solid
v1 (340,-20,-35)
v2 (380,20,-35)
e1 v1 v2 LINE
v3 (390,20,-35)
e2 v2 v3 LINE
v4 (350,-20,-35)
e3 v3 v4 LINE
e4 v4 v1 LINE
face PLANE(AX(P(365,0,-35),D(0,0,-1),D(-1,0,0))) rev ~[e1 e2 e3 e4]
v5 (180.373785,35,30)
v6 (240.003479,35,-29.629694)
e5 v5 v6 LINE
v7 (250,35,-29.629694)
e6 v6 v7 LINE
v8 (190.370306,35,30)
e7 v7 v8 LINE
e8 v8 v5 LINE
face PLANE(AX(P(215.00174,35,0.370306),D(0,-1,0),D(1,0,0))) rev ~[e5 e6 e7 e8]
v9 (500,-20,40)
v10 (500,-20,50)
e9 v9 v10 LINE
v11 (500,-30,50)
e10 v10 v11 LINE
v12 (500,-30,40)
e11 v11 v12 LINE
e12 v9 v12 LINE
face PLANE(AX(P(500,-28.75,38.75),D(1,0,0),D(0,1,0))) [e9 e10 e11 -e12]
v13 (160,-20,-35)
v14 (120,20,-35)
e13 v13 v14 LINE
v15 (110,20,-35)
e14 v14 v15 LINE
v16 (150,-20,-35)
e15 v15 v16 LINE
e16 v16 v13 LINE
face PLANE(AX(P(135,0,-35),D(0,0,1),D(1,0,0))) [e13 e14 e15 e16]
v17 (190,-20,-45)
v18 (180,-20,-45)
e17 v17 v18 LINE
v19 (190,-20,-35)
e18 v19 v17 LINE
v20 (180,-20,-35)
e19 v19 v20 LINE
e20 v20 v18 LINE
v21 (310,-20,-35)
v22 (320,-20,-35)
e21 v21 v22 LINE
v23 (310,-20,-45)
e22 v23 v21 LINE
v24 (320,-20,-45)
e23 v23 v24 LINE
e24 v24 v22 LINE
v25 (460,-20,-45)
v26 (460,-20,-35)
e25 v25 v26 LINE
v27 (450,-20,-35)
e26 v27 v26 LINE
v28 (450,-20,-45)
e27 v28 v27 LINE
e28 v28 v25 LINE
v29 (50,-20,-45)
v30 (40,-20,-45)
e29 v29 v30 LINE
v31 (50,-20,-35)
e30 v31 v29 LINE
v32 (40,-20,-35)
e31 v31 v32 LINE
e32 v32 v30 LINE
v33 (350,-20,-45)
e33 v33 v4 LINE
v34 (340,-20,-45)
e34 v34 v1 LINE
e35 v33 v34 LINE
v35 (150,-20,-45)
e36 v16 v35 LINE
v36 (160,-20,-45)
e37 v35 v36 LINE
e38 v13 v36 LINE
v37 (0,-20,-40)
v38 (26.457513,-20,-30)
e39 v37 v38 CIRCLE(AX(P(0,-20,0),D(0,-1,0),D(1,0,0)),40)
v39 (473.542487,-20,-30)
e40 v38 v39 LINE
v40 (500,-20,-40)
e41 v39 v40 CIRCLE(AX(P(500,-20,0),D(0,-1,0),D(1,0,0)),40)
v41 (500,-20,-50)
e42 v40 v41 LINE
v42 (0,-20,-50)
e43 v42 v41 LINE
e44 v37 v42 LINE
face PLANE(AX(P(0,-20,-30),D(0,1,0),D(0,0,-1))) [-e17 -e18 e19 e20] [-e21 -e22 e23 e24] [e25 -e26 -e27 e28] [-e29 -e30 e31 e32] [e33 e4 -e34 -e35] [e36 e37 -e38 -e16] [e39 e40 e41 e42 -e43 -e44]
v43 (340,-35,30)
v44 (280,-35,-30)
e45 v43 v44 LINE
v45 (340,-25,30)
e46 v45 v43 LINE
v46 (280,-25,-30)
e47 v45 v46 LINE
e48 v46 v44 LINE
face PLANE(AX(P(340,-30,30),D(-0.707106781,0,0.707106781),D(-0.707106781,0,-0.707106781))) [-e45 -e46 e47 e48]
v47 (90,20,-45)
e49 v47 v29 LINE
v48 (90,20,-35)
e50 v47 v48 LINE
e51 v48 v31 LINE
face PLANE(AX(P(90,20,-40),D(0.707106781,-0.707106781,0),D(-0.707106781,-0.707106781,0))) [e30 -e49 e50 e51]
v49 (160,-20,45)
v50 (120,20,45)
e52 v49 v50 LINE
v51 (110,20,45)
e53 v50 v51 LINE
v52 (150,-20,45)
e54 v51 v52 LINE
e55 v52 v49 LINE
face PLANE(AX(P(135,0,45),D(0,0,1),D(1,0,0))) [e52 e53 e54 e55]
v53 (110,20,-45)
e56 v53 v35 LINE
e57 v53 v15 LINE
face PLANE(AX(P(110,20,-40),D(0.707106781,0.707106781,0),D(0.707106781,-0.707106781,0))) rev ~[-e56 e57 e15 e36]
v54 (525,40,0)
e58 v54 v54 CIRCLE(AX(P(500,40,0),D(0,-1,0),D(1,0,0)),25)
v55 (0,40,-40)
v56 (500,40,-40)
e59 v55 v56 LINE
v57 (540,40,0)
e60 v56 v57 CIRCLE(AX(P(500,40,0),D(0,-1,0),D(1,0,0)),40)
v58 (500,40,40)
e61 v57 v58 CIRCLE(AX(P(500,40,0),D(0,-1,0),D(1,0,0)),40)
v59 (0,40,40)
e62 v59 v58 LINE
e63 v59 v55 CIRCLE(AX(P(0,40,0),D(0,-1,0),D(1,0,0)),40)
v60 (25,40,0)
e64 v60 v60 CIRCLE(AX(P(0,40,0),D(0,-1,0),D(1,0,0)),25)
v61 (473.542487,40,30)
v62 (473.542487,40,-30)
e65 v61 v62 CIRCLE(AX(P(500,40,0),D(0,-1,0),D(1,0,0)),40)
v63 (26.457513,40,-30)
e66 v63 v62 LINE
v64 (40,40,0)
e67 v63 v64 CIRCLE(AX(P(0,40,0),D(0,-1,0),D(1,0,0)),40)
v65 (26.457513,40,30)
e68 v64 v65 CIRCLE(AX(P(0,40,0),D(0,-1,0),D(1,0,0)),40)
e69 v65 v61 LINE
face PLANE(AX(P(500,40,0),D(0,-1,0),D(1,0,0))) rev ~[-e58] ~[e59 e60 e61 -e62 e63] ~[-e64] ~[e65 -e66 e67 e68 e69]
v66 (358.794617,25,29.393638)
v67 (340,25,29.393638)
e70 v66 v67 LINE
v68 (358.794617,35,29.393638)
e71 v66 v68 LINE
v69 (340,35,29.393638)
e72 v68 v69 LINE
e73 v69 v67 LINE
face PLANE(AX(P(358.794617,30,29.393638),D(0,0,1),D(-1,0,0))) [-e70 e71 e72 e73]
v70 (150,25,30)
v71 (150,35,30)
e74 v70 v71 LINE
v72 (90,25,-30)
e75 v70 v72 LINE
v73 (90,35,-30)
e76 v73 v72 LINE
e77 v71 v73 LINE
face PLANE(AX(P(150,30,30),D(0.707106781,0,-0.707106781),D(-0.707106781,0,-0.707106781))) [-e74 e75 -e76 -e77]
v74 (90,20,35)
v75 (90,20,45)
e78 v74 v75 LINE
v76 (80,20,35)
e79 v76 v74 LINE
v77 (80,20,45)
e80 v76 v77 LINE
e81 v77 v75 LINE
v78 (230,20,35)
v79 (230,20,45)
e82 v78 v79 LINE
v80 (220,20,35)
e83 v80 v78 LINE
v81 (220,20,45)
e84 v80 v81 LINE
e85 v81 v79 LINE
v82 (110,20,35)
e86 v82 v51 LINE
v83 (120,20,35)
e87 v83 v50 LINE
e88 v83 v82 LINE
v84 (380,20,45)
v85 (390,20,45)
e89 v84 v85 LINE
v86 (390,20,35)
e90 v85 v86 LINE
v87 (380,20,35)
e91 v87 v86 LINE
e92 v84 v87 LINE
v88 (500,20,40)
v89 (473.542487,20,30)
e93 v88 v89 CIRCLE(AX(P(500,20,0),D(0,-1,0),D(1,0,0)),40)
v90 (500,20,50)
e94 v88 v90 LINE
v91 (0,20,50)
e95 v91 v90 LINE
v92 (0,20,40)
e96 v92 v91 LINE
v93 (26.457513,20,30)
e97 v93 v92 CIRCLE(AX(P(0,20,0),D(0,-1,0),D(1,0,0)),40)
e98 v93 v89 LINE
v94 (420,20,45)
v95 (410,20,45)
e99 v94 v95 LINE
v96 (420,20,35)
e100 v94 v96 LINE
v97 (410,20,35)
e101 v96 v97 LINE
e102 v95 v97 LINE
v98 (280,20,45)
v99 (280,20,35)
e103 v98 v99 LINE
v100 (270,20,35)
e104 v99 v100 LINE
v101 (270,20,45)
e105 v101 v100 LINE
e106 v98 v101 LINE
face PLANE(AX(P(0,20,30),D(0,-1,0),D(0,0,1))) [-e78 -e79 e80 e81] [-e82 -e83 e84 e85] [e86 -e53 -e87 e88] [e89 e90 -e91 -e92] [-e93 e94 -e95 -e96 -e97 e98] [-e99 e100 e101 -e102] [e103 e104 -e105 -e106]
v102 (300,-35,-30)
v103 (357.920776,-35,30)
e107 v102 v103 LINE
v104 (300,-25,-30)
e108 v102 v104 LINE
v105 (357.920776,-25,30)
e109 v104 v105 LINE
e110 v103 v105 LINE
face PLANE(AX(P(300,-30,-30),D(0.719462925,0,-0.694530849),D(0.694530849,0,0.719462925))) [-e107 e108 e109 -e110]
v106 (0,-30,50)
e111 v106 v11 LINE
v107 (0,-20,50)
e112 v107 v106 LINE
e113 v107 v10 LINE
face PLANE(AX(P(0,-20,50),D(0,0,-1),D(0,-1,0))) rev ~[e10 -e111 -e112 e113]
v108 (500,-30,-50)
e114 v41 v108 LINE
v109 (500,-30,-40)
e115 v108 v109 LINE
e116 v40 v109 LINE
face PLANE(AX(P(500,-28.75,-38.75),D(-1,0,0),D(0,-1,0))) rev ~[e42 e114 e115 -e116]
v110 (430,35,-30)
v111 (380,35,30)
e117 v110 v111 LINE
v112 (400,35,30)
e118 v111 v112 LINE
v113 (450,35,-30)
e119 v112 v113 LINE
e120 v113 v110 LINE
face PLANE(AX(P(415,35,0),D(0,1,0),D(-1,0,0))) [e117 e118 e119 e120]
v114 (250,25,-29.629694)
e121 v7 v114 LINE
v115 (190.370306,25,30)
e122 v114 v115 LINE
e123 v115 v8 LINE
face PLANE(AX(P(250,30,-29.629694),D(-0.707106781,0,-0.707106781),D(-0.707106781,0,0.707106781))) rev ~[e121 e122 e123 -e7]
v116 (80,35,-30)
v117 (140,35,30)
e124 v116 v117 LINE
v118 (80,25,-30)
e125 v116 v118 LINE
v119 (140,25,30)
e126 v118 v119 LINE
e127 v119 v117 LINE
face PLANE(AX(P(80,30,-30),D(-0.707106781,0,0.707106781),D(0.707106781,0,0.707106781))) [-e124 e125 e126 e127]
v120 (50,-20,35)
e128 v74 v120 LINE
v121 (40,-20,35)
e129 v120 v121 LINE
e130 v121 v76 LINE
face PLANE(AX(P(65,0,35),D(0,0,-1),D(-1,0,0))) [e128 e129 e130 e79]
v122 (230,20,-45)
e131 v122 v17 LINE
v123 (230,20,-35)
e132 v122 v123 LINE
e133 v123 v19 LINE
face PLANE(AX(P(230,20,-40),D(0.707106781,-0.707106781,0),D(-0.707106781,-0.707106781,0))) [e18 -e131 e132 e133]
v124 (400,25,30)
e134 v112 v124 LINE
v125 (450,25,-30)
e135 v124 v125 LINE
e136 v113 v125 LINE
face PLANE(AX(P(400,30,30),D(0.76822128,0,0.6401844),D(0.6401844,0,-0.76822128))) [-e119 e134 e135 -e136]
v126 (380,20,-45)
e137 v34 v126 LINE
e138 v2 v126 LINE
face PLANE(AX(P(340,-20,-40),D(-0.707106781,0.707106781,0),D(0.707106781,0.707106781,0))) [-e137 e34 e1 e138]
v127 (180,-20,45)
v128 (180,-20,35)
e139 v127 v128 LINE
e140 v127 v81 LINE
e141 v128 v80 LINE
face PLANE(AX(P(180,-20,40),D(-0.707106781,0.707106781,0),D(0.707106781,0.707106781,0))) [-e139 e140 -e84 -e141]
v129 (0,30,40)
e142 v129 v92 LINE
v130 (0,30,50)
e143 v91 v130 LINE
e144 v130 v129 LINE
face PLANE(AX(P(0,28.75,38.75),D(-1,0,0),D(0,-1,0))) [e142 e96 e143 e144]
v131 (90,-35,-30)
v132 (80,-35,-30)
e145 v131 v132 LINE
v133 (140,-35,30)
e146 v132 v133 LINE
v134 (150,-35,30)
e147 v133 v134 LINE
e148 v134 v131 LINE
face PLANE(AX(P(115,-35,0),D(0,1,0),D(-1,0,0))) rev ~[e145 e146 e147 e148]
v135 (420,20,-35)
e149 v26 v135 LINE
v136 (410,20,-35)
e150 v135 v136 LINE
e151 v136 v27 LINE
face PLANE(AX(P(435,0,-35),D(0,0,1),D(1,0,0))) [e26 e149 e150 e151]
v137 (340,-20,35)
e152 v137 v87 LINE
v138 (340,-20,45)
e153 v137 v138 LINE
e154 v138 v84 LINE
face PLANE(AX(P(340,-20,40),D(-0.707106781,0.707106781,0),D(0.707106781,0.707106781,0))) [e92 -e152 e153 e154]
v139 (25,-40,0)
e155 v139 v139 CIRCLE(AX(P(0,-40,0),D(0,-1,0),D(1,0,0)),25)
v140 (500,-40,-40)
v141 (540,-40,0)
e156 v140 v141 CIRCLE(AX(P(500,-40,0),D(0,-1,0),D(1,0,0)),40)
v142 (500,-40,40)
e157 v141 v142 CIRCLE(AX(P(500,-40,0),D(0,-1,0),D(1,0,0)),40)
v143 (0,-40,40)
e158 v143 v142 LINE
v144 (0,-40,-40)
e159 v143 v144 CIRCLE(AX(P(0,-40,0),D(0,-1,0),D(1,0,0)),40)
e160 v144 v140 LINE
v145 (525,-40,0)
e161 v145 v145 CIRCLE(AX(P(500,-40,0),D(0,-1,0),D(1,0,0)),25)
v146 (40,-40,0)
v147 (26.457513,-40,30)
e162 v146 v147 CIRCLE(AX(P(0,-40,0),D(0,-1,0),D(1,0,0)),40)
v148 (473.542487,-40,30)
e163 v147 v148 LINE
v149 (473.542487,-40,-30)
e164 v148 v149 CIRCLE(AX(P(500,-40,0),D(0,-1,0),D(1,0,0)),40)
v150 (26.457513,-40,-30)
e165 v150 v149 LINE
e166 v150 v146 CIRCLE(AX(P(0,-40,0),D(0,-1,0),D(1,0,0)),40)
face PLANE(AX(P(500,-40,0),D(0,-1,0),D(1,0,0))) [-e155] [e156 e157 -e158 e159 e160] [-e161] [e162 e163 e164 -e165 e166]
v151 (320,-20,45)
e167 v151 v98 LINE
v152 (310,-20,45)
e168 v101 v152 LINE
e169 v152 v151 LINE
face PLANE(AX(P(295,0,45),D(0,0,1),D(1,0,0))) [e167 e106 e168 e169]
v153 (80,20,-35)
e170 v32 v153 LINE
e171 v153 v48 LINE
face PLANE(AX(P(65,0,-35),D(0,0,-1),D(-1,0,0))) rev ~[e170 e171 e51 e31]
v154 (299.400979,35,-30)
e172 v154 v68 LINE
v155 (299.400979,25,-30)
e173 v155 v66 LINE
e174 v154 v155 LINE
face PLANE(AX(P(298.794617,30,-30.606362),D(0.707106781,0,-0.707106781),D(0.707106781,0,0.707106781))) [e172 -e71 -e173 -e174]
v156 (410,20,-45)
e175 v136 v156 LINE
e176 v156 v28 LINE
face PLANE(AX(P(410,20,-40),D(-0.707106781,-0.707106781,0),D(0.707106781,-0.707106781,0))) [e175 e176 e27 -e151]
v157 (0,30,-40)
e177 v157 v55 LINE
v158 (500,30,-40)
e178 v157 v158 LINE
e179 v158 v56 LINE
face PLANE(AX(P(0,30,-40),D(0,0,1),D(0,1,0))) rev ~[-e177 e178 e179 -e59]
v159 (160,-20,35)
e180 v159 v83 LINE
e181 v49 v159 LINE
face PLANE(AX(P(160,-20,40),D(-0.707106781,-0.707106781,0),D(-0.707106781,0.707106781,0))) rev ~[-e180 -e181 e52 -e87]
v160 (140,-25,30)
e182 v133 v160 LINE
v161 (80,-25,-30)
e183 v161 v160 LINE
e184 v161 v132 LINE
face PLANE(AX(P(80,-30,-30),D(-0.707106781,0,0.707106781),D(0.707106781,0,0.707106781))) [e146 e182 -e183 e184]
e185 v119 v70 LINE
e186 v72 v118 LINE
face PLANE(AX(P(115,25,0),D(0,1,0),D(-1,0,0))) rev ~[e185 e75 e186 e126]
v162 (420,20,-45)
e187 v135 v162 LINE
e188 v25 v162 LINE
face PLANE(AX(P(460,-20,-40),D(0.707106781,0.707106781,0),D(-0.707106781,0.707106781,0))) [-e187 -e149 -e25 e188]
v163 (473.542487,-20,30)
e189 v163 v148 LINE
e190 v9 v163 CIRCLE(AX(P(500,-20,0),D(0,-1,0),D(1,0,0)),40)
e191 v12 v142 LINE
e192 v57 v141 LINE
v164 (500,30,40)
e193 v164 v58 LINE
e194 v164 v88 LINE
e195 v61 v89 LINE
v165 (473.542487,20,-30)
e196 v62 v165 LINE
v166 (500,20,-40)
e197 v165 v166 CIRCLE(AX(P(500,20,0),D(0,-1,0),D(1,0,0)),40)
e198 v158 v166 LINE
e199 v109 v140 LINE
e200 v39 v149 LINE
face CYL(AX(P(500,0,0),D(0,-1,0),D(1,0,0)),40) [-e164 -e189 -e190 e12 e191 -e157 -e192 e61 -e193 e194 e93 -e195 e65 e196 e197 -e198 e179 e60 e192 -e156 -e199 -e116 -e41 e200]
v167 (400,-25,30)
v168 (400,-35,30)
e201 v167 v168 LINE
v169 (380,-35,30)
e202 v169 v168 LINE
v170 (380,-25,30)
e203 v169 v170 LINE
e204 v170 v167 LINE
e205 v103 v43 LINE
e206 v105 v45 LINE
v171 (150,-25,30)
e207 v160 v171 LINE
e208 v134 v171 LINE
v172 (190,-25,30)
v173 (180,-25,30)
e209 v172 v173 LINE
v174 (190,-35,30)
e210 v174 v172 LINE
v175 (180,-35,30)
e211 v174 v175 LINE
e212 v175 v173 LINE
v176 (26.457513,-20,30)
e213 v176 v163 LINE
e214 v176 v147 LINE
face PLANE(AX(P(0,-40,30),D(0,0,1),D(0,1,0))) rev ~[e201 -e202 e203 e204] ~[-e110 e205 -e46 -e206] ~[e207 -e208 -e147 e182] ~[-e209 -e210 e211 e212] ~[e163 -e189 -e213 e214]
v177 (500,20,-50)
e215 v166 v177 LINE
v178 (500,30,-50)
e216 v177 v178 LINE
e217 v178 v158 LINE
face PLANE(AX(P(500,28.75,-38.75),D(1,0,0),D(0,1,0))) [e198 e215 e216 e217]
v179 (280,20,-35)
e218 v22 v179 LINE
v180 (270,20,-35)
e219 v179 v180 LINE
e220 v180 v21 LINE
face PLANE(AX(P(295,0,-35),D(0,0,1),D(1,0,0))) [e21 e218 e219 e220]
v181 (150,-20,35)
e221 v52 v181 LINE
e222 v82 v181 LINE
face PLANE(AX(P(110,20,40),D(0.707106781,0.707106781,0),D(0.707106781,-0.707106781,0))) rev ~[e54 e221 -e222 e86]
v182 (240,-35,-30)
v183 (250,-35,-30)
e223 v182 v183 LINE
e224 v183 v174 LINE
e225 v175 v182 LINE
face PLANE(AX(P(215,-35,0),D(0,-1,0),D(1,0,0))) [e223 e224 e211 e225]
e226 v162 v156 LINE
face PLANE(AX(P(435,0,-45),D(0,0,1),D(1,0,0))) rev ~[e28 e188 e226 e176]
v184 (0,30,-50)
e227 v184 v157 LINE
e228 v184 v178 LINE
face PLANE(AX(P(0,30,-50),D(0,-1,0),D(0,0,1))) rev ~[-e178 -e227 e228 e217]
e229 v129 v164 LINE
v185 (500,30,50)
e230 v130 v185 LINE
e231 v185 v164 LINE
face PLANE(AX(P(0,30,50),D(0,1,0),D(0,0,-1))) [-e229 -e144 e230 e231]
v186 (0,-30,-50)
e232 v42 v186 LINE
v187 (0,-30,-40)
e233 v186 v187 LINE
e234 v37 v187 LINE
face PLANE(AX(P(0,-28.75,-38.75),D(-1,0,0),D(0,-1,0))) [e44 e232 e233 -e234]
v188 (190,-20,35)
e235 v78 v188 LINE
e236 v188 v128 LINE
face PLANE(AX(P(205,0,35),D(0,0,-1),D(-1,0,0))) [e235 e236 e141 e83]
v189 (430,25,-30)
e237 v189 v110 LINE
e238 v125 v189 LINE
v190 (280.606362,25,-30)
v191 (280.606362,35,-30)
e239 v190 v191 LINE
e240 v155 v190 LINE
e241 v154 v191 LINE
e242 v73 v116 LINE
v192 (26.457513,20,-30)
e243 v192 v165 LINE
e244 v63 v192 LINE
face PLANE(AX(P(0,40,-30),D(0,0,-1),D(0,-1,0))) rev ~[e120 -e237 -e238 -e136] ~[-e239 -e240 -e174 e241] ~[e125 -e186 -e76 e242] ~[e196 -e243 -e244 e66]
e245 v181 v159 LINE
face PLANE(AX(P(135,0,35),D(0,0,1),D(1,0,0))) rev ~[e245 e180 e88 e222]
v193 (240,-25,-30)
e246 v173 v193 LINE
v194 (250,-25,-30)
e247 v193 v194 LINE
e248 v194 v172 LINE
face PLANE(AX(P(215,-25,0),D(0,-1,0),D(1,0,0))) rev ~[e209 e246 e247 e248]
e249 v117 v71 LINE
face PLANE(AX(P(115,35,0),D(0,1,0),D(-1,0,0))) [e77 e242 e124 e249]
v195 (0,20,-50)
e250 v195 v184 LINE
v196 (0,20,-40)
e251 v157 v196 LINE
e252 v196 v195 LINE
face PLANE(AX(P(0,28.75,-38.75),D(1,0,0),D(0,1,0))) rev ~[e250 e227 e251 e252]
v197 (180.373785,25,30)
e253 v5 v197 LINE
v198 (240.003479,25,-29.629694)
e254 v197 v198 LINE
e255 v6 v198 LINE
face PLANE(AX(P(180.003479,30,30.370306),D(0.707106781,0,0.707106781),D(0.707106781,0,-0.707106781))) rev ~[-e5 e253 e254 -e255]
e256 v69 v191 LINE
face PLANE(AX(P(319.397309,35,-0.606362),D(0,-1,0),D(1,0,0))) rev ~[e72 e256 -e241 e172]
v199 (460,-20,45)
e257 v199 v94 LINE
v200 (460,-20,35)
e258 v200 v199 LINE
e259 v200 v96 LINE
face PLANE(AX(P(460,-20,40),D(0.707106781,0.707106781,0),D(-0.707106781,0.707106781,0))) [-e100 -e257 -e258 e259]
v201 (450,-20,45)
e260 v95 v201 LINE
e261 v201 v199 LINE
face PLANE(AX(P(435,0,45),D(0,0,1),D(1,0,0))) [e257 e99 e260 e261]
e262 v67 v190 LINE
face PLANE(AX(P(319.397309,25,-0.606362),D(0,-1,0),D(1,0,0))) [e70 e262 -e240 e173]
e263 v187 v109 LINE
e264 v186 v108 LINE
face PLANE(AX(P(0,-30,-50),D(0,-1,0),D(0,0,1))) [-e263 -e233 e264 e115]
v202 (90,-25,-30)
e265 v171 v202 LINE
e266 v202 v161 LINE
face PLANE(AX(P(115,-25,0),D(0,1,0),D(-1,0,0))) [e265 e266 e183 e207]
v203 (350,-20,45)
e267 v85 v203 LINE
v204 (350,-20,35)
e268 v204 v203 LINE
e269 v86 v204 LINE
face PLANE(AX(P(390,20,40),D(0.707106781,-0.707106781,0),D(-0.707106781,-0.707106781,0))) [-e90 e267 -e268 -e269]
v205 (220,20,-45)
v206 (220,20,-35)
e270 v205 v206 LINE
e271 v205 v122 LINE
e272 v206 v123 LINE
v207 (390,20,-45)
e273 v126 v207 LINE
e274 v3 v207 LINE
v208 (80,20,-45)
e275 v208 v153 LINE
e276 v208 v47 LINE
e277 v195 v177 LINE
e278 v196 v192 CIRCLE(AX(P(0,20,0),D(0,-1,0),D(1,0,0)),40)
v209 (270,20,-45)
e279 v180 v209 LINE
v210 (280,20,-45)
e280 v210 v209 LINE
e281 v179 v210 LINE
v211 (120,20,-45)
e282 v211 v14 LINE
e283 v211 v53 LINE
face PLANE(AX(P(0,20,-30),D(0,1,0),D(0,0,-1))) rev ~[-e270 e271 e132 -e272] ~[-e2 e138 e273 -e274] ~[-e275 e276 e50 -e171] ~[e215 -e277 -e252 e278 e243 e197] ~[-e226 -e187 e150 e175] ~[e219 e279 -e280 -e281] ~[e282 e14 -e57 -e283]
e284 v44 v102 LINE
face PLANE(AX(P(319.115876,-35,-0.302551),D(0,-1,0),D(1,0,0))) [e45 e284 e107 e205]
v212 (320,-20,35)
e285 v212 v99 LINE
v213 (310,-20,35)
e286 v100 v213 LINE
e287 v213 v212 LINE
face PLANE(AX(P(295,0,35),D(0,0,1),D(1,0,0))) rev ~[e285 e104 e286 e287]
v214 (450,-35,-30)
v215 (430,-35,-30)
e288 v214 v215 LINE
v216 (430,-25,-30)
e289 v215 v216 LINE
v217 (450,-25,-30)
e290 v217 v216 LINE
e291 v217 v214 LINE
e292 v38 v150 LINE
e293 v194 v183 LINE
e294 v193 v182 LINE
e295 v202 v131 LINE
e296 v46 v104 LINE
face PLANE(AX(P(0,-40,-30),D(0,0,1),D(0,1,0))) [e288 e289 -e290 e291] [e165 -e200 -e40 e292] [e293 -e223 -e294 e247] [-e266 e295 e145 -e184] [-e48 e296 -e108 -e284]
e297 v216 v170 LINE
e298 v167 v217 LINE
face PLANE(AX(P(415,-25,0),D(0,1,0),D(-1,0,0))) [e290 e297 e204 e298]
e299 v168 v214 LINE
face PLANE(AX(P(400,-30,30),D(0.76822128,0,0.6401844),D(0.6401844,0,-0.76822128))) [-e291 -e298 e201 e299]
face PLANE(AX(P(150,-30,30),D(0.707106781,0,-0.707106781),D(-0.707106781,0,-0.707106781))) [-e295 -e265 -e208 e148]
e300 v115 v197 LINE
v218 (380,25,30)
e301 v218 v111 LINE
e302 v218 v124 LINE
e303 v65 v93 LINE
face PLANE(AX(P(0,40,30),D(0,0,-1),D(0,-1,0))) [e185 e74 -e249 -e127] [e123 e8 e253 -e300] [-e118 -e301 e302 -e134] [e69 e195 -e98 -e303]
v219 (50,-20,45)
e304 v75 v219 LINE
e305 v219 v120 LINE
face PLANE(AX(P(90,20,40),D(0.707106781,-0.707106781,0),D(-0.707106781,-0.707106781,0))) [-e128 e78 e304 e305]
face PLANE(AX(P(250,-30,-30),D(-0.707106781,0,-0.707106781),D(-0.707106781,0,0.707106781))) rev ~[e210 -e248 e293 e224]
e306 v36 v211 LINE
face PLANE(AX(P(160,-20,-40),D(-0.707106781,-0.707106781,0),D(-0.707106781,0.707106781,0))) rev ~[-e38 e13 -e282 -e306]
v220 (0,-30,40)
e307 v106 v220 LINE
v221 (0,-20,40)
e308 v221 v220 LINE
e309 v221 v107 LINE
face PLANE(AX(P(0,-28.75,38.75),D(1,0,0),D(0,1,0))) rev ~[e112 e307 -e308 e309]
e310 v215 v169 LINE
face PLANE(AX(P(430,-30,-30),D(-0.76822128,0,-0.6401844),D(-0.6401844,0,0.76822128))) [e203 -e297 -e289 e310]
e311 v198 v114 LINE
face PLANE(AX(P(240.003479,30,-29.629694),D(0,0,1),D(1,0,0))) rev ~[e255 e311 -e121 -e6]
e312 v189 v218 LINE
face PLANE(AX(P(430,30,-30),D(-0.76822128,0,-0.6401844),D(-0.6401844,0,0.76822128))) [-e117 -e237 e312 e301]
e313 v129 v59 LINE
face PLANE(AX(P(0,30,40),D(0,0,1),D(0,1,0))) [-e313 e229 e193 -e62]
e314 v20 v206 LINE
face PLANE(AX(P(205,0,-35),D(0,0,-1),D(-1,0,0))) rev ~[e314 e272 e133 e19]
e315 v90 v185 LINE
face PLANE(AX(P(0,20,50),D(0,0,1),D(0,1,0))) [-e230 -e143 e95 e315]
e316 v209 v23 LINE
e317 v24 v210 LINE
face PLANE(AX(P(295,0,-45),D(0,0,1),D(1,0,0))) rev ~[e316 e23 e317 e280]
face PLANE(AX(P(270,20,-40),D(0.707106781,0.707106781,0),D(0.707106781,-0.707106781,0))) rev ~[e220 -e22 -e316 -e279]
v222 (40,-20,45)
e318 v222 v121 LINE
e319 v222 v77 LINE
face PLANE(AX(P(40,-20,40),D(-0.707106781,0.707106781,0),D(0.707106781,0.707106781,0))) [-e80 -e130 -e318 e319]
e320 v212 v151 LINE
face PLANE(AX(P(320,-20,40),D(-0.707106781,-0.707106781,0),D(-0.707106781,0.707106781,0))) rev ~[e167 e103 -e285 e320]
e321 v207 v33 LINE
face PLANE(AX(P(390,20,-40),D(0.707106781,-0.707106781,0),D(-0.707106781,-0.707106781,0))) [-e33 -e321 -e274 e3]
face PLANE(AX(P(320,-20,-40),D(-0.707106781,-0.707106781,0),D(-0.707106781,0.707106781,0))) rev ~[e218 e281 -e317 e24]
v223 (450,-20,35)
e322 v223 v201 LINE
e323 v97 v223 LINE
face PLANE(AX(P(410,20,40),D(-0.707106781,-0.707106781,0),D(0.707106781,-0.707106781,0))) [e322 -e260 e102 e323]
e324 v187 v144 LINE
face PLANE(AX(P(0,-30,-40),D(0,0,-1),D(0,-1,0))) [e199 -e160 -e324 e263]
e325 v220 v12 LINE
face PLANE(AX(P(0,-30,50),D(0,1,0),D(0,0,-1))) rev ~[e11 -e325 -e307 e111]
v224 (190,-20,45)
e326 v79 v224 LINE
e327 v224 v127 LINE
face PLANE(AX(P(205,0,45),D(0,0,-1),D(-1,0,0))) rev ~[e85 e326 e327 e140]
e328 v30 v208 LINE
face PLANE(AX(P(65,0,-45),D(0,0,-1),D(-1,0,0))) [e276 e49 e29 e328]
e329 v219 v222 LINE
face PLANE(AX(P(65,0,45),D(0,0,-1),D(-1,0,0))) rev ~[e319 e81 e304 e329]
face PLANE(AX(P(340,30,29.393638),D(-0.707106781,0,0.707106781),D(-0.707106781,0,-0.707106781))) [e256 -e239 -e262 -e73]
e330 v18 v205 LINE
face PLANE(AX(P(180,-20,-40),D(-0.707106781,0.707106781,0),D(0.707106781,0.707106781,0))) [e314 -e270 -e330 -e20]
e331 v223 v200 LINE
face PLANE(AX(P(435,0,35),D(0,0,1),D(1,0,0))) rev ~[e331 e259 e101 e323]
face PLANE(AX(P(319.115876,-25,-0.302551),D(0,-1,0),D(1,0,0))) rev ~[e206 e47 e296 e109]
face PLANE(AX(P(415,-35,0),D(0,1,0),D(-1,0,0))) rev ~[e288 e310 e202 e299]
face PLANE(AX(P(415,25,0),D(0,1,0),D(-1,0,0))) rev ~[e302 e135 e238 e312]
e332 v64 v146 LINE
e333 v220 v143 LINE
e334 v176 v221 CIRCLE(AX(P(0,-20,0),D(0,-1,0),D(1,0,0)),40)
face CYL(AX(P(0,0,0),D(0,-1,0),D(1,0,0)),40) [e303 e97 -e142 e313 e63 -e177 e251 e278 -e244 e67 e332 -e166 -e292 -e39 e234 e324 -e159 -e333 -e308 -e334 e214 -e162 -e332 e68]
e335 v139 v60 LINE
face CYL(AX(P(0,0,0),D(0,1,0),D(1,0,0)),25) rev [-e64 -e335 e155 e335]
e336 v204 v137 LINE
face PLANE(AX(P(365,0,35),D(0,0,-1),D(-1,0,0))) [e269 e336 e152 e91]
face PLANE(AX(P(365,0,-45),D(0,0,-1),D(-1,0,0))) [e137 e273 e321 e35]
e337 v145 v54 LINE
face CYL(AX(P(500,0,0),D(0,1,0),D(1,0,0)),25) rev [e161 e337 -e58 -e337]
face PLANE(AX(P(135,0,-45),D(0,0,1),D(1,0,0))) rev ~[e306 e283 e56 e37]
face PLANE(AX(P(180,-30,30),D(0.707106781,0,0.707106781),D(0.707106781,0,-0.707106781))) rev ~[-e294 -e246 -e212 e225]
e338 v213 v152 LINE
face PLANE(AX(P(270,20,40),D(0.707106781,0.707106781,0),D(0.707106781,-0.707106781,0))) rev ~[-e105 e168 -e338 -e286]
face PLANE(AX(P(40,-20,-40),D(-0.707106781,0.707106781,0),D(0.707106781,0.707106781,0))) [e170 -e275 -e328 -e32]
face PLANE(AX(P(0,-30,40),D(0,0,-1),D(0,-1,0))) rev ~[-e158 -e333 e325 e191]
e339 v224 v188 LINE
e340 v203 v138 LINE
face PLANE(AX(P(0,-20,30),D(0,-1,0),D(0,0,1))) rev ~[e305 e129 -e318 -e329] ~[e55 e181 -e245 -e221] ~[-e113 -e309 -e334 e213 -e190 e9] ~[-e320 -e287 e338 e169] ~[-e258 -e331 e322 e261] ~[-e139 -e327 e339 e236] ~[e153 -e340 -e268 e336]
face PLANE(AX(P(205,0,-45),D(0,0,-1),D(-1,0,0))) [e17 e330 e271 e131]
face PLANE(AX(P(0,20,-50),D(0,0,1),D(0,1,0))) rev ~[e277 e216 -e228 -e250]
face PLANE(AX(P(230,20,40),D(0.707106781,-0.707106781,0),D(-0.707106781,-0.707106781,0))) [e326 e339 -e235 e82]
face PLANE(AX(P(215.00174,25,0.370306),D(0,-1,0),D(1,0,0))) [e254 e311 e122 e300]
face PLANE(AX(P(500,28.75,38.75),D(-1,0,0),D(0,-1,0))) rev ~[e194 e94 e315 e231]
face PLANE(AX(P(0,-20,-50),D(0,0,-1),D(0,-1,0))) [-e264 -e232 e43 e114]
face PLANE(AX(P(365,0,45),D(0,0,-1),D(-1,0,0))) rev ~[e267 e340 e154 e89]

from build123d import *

# Parameters (mm, degrees)
SKETCH_R      = 40
SKETCH_R_2    = 25
PAD_DEPTH     = 40
PAD001_DEPTH  = 500
SKETCH002_R   = 40
SKETCH002_R_2 = 25
PAD002_DEPTH  = 40
PAD003_DEPTH  = 5
PAD004_DEPTH  = 5
PAD005_DEPTH  = 5
PAD006_DEPTH  = 5


with BuildPart() as part:
    # Sketch → Pad (new body, symmetric)
    with BuildSketch(Plane.XZ):
        Circle(SKETCH_R)
        Circle(SKETCH_R_2, mode=Mode.SUBTRACT)
    extrude(amount=PAD_DEPTH, both=True)

    # Sketch001 → Pad001 (join)
    with BuildSketch(Plane.YZ):
        Polygon((-30, 50), (-30, 40), (-40, 40), (-40, 30), (-20, 30), (-20, 50), align=None)
        Polygon((30, 50), (30, 40), (40, 40), (40, 30), (20, 30), (20, 50), align=None)
        Polygon((-30, -50), (-30, -40), (-40, -40), (-40, -30), (-20, -30), (-20, -50), align=None)
        Polygon((30, -50), (30, -40), (40, -40), (40, -30), (20, -30), (20, -50), align=None)
    extrude(amount=PAD001_DEPTH)

    # Sketch002 → Pad002 (join, symmetric)
    with BuildSketch(Plane(origin=(500, 0, 0), x_dir=(1, 0, 0), z_dir=(0, -1, 0))):
        Circle(SKETCH002_R)
        Circle(SKETCH002_R_2, mode=Mode.SUBTRACT)
    extrude(amount=PAD002_DEPTH, both=True)

    # Sketch004 → Pad003 (join, symmetric)
    with BuildSketch(Plane.XZ.offset(-30)):
        Polygon((80, -30), (140, 30), (150, 30), (90, -30), align=None)
        Polygon((450, -30), (430, -30), (380, 30), (400, 30), align=None)
        Polygon((180.003479, 30.370306), (240.003479, -29.629694), (250, -29.629694), (190, 30.370306), align=None)
        Polygon((358.794617, 29.393638), (340, 29.393638), (280, -30.606362), (298.794617, -30.606362), align=None)
    extrude(amount=PAD003_DEPTH, both=True)

    # Sketch003 → Pad004 (join, symmetric)
    with BuildSketch(Plane.XZ.offset(30)):
        Polygon((80, -30), (140, 30), (150, 30), (90, -30), align=None)
        Polygon((450, -30), (430, -30), (380, 30), (400, 30), align=None)
        Polygon((180, 30), (240, -30), (250, -30), (190, 30), align=None)
        Polygon((357.920776, 30), (340, 30), (280, -30), (300, -30), align=None)
    extrude(amount=PAD004_DEPTH, both=True)

    # Sketch006 → Pad005 (join, symmetric)
    with BuildSketch(Plane.XY.offset(-40)):
        Polygon((230, 20), (190, -20), (180, -20), (220, 20), align=None)
        Polygon((160, -20), (120, 20), (110, 20), (150, -20), align=None)
        Polygon((90, 20), (50, -20), (40, -20), (80, 20), align=None)
        Polygon((270, 20), (310, -20), (320, -20), (280, 20), align=None)
        Polygon((340, -20), (380, 20), (390, 20), (350, -20), align=None)
        Polygon((410, 20), (450, -20), (460, -20), (420, 20), align=None)
    extrude(amount=PAD005_DEPTH, both=True)

    # Sketch005 → Pad006 (join, symmetric)
    with BuildSketch(Plane.XY.offset(40)):
        Polygon((230, 20), (190, -20), (180, -20), (220, 20), align=None)
        Polygon((160, -20), (120, 20), (110, 20), (150, -20), align=None)
        Polygon((90, 20), (50, -20), (40, -20), (80, 20), align=None)
        Polygon((270, 20), (310, -20), (320, -20), (280, 20), align=None)
        Polygon((340, -20), (380, 20), (390, 20), (350, -20), align=None)
        Polygon((410, 20), (450, -20), (460, -20), (420, 20), align=None)
    extrude(amount=PAD006_DEPTH, both=True)


solid = part.part
